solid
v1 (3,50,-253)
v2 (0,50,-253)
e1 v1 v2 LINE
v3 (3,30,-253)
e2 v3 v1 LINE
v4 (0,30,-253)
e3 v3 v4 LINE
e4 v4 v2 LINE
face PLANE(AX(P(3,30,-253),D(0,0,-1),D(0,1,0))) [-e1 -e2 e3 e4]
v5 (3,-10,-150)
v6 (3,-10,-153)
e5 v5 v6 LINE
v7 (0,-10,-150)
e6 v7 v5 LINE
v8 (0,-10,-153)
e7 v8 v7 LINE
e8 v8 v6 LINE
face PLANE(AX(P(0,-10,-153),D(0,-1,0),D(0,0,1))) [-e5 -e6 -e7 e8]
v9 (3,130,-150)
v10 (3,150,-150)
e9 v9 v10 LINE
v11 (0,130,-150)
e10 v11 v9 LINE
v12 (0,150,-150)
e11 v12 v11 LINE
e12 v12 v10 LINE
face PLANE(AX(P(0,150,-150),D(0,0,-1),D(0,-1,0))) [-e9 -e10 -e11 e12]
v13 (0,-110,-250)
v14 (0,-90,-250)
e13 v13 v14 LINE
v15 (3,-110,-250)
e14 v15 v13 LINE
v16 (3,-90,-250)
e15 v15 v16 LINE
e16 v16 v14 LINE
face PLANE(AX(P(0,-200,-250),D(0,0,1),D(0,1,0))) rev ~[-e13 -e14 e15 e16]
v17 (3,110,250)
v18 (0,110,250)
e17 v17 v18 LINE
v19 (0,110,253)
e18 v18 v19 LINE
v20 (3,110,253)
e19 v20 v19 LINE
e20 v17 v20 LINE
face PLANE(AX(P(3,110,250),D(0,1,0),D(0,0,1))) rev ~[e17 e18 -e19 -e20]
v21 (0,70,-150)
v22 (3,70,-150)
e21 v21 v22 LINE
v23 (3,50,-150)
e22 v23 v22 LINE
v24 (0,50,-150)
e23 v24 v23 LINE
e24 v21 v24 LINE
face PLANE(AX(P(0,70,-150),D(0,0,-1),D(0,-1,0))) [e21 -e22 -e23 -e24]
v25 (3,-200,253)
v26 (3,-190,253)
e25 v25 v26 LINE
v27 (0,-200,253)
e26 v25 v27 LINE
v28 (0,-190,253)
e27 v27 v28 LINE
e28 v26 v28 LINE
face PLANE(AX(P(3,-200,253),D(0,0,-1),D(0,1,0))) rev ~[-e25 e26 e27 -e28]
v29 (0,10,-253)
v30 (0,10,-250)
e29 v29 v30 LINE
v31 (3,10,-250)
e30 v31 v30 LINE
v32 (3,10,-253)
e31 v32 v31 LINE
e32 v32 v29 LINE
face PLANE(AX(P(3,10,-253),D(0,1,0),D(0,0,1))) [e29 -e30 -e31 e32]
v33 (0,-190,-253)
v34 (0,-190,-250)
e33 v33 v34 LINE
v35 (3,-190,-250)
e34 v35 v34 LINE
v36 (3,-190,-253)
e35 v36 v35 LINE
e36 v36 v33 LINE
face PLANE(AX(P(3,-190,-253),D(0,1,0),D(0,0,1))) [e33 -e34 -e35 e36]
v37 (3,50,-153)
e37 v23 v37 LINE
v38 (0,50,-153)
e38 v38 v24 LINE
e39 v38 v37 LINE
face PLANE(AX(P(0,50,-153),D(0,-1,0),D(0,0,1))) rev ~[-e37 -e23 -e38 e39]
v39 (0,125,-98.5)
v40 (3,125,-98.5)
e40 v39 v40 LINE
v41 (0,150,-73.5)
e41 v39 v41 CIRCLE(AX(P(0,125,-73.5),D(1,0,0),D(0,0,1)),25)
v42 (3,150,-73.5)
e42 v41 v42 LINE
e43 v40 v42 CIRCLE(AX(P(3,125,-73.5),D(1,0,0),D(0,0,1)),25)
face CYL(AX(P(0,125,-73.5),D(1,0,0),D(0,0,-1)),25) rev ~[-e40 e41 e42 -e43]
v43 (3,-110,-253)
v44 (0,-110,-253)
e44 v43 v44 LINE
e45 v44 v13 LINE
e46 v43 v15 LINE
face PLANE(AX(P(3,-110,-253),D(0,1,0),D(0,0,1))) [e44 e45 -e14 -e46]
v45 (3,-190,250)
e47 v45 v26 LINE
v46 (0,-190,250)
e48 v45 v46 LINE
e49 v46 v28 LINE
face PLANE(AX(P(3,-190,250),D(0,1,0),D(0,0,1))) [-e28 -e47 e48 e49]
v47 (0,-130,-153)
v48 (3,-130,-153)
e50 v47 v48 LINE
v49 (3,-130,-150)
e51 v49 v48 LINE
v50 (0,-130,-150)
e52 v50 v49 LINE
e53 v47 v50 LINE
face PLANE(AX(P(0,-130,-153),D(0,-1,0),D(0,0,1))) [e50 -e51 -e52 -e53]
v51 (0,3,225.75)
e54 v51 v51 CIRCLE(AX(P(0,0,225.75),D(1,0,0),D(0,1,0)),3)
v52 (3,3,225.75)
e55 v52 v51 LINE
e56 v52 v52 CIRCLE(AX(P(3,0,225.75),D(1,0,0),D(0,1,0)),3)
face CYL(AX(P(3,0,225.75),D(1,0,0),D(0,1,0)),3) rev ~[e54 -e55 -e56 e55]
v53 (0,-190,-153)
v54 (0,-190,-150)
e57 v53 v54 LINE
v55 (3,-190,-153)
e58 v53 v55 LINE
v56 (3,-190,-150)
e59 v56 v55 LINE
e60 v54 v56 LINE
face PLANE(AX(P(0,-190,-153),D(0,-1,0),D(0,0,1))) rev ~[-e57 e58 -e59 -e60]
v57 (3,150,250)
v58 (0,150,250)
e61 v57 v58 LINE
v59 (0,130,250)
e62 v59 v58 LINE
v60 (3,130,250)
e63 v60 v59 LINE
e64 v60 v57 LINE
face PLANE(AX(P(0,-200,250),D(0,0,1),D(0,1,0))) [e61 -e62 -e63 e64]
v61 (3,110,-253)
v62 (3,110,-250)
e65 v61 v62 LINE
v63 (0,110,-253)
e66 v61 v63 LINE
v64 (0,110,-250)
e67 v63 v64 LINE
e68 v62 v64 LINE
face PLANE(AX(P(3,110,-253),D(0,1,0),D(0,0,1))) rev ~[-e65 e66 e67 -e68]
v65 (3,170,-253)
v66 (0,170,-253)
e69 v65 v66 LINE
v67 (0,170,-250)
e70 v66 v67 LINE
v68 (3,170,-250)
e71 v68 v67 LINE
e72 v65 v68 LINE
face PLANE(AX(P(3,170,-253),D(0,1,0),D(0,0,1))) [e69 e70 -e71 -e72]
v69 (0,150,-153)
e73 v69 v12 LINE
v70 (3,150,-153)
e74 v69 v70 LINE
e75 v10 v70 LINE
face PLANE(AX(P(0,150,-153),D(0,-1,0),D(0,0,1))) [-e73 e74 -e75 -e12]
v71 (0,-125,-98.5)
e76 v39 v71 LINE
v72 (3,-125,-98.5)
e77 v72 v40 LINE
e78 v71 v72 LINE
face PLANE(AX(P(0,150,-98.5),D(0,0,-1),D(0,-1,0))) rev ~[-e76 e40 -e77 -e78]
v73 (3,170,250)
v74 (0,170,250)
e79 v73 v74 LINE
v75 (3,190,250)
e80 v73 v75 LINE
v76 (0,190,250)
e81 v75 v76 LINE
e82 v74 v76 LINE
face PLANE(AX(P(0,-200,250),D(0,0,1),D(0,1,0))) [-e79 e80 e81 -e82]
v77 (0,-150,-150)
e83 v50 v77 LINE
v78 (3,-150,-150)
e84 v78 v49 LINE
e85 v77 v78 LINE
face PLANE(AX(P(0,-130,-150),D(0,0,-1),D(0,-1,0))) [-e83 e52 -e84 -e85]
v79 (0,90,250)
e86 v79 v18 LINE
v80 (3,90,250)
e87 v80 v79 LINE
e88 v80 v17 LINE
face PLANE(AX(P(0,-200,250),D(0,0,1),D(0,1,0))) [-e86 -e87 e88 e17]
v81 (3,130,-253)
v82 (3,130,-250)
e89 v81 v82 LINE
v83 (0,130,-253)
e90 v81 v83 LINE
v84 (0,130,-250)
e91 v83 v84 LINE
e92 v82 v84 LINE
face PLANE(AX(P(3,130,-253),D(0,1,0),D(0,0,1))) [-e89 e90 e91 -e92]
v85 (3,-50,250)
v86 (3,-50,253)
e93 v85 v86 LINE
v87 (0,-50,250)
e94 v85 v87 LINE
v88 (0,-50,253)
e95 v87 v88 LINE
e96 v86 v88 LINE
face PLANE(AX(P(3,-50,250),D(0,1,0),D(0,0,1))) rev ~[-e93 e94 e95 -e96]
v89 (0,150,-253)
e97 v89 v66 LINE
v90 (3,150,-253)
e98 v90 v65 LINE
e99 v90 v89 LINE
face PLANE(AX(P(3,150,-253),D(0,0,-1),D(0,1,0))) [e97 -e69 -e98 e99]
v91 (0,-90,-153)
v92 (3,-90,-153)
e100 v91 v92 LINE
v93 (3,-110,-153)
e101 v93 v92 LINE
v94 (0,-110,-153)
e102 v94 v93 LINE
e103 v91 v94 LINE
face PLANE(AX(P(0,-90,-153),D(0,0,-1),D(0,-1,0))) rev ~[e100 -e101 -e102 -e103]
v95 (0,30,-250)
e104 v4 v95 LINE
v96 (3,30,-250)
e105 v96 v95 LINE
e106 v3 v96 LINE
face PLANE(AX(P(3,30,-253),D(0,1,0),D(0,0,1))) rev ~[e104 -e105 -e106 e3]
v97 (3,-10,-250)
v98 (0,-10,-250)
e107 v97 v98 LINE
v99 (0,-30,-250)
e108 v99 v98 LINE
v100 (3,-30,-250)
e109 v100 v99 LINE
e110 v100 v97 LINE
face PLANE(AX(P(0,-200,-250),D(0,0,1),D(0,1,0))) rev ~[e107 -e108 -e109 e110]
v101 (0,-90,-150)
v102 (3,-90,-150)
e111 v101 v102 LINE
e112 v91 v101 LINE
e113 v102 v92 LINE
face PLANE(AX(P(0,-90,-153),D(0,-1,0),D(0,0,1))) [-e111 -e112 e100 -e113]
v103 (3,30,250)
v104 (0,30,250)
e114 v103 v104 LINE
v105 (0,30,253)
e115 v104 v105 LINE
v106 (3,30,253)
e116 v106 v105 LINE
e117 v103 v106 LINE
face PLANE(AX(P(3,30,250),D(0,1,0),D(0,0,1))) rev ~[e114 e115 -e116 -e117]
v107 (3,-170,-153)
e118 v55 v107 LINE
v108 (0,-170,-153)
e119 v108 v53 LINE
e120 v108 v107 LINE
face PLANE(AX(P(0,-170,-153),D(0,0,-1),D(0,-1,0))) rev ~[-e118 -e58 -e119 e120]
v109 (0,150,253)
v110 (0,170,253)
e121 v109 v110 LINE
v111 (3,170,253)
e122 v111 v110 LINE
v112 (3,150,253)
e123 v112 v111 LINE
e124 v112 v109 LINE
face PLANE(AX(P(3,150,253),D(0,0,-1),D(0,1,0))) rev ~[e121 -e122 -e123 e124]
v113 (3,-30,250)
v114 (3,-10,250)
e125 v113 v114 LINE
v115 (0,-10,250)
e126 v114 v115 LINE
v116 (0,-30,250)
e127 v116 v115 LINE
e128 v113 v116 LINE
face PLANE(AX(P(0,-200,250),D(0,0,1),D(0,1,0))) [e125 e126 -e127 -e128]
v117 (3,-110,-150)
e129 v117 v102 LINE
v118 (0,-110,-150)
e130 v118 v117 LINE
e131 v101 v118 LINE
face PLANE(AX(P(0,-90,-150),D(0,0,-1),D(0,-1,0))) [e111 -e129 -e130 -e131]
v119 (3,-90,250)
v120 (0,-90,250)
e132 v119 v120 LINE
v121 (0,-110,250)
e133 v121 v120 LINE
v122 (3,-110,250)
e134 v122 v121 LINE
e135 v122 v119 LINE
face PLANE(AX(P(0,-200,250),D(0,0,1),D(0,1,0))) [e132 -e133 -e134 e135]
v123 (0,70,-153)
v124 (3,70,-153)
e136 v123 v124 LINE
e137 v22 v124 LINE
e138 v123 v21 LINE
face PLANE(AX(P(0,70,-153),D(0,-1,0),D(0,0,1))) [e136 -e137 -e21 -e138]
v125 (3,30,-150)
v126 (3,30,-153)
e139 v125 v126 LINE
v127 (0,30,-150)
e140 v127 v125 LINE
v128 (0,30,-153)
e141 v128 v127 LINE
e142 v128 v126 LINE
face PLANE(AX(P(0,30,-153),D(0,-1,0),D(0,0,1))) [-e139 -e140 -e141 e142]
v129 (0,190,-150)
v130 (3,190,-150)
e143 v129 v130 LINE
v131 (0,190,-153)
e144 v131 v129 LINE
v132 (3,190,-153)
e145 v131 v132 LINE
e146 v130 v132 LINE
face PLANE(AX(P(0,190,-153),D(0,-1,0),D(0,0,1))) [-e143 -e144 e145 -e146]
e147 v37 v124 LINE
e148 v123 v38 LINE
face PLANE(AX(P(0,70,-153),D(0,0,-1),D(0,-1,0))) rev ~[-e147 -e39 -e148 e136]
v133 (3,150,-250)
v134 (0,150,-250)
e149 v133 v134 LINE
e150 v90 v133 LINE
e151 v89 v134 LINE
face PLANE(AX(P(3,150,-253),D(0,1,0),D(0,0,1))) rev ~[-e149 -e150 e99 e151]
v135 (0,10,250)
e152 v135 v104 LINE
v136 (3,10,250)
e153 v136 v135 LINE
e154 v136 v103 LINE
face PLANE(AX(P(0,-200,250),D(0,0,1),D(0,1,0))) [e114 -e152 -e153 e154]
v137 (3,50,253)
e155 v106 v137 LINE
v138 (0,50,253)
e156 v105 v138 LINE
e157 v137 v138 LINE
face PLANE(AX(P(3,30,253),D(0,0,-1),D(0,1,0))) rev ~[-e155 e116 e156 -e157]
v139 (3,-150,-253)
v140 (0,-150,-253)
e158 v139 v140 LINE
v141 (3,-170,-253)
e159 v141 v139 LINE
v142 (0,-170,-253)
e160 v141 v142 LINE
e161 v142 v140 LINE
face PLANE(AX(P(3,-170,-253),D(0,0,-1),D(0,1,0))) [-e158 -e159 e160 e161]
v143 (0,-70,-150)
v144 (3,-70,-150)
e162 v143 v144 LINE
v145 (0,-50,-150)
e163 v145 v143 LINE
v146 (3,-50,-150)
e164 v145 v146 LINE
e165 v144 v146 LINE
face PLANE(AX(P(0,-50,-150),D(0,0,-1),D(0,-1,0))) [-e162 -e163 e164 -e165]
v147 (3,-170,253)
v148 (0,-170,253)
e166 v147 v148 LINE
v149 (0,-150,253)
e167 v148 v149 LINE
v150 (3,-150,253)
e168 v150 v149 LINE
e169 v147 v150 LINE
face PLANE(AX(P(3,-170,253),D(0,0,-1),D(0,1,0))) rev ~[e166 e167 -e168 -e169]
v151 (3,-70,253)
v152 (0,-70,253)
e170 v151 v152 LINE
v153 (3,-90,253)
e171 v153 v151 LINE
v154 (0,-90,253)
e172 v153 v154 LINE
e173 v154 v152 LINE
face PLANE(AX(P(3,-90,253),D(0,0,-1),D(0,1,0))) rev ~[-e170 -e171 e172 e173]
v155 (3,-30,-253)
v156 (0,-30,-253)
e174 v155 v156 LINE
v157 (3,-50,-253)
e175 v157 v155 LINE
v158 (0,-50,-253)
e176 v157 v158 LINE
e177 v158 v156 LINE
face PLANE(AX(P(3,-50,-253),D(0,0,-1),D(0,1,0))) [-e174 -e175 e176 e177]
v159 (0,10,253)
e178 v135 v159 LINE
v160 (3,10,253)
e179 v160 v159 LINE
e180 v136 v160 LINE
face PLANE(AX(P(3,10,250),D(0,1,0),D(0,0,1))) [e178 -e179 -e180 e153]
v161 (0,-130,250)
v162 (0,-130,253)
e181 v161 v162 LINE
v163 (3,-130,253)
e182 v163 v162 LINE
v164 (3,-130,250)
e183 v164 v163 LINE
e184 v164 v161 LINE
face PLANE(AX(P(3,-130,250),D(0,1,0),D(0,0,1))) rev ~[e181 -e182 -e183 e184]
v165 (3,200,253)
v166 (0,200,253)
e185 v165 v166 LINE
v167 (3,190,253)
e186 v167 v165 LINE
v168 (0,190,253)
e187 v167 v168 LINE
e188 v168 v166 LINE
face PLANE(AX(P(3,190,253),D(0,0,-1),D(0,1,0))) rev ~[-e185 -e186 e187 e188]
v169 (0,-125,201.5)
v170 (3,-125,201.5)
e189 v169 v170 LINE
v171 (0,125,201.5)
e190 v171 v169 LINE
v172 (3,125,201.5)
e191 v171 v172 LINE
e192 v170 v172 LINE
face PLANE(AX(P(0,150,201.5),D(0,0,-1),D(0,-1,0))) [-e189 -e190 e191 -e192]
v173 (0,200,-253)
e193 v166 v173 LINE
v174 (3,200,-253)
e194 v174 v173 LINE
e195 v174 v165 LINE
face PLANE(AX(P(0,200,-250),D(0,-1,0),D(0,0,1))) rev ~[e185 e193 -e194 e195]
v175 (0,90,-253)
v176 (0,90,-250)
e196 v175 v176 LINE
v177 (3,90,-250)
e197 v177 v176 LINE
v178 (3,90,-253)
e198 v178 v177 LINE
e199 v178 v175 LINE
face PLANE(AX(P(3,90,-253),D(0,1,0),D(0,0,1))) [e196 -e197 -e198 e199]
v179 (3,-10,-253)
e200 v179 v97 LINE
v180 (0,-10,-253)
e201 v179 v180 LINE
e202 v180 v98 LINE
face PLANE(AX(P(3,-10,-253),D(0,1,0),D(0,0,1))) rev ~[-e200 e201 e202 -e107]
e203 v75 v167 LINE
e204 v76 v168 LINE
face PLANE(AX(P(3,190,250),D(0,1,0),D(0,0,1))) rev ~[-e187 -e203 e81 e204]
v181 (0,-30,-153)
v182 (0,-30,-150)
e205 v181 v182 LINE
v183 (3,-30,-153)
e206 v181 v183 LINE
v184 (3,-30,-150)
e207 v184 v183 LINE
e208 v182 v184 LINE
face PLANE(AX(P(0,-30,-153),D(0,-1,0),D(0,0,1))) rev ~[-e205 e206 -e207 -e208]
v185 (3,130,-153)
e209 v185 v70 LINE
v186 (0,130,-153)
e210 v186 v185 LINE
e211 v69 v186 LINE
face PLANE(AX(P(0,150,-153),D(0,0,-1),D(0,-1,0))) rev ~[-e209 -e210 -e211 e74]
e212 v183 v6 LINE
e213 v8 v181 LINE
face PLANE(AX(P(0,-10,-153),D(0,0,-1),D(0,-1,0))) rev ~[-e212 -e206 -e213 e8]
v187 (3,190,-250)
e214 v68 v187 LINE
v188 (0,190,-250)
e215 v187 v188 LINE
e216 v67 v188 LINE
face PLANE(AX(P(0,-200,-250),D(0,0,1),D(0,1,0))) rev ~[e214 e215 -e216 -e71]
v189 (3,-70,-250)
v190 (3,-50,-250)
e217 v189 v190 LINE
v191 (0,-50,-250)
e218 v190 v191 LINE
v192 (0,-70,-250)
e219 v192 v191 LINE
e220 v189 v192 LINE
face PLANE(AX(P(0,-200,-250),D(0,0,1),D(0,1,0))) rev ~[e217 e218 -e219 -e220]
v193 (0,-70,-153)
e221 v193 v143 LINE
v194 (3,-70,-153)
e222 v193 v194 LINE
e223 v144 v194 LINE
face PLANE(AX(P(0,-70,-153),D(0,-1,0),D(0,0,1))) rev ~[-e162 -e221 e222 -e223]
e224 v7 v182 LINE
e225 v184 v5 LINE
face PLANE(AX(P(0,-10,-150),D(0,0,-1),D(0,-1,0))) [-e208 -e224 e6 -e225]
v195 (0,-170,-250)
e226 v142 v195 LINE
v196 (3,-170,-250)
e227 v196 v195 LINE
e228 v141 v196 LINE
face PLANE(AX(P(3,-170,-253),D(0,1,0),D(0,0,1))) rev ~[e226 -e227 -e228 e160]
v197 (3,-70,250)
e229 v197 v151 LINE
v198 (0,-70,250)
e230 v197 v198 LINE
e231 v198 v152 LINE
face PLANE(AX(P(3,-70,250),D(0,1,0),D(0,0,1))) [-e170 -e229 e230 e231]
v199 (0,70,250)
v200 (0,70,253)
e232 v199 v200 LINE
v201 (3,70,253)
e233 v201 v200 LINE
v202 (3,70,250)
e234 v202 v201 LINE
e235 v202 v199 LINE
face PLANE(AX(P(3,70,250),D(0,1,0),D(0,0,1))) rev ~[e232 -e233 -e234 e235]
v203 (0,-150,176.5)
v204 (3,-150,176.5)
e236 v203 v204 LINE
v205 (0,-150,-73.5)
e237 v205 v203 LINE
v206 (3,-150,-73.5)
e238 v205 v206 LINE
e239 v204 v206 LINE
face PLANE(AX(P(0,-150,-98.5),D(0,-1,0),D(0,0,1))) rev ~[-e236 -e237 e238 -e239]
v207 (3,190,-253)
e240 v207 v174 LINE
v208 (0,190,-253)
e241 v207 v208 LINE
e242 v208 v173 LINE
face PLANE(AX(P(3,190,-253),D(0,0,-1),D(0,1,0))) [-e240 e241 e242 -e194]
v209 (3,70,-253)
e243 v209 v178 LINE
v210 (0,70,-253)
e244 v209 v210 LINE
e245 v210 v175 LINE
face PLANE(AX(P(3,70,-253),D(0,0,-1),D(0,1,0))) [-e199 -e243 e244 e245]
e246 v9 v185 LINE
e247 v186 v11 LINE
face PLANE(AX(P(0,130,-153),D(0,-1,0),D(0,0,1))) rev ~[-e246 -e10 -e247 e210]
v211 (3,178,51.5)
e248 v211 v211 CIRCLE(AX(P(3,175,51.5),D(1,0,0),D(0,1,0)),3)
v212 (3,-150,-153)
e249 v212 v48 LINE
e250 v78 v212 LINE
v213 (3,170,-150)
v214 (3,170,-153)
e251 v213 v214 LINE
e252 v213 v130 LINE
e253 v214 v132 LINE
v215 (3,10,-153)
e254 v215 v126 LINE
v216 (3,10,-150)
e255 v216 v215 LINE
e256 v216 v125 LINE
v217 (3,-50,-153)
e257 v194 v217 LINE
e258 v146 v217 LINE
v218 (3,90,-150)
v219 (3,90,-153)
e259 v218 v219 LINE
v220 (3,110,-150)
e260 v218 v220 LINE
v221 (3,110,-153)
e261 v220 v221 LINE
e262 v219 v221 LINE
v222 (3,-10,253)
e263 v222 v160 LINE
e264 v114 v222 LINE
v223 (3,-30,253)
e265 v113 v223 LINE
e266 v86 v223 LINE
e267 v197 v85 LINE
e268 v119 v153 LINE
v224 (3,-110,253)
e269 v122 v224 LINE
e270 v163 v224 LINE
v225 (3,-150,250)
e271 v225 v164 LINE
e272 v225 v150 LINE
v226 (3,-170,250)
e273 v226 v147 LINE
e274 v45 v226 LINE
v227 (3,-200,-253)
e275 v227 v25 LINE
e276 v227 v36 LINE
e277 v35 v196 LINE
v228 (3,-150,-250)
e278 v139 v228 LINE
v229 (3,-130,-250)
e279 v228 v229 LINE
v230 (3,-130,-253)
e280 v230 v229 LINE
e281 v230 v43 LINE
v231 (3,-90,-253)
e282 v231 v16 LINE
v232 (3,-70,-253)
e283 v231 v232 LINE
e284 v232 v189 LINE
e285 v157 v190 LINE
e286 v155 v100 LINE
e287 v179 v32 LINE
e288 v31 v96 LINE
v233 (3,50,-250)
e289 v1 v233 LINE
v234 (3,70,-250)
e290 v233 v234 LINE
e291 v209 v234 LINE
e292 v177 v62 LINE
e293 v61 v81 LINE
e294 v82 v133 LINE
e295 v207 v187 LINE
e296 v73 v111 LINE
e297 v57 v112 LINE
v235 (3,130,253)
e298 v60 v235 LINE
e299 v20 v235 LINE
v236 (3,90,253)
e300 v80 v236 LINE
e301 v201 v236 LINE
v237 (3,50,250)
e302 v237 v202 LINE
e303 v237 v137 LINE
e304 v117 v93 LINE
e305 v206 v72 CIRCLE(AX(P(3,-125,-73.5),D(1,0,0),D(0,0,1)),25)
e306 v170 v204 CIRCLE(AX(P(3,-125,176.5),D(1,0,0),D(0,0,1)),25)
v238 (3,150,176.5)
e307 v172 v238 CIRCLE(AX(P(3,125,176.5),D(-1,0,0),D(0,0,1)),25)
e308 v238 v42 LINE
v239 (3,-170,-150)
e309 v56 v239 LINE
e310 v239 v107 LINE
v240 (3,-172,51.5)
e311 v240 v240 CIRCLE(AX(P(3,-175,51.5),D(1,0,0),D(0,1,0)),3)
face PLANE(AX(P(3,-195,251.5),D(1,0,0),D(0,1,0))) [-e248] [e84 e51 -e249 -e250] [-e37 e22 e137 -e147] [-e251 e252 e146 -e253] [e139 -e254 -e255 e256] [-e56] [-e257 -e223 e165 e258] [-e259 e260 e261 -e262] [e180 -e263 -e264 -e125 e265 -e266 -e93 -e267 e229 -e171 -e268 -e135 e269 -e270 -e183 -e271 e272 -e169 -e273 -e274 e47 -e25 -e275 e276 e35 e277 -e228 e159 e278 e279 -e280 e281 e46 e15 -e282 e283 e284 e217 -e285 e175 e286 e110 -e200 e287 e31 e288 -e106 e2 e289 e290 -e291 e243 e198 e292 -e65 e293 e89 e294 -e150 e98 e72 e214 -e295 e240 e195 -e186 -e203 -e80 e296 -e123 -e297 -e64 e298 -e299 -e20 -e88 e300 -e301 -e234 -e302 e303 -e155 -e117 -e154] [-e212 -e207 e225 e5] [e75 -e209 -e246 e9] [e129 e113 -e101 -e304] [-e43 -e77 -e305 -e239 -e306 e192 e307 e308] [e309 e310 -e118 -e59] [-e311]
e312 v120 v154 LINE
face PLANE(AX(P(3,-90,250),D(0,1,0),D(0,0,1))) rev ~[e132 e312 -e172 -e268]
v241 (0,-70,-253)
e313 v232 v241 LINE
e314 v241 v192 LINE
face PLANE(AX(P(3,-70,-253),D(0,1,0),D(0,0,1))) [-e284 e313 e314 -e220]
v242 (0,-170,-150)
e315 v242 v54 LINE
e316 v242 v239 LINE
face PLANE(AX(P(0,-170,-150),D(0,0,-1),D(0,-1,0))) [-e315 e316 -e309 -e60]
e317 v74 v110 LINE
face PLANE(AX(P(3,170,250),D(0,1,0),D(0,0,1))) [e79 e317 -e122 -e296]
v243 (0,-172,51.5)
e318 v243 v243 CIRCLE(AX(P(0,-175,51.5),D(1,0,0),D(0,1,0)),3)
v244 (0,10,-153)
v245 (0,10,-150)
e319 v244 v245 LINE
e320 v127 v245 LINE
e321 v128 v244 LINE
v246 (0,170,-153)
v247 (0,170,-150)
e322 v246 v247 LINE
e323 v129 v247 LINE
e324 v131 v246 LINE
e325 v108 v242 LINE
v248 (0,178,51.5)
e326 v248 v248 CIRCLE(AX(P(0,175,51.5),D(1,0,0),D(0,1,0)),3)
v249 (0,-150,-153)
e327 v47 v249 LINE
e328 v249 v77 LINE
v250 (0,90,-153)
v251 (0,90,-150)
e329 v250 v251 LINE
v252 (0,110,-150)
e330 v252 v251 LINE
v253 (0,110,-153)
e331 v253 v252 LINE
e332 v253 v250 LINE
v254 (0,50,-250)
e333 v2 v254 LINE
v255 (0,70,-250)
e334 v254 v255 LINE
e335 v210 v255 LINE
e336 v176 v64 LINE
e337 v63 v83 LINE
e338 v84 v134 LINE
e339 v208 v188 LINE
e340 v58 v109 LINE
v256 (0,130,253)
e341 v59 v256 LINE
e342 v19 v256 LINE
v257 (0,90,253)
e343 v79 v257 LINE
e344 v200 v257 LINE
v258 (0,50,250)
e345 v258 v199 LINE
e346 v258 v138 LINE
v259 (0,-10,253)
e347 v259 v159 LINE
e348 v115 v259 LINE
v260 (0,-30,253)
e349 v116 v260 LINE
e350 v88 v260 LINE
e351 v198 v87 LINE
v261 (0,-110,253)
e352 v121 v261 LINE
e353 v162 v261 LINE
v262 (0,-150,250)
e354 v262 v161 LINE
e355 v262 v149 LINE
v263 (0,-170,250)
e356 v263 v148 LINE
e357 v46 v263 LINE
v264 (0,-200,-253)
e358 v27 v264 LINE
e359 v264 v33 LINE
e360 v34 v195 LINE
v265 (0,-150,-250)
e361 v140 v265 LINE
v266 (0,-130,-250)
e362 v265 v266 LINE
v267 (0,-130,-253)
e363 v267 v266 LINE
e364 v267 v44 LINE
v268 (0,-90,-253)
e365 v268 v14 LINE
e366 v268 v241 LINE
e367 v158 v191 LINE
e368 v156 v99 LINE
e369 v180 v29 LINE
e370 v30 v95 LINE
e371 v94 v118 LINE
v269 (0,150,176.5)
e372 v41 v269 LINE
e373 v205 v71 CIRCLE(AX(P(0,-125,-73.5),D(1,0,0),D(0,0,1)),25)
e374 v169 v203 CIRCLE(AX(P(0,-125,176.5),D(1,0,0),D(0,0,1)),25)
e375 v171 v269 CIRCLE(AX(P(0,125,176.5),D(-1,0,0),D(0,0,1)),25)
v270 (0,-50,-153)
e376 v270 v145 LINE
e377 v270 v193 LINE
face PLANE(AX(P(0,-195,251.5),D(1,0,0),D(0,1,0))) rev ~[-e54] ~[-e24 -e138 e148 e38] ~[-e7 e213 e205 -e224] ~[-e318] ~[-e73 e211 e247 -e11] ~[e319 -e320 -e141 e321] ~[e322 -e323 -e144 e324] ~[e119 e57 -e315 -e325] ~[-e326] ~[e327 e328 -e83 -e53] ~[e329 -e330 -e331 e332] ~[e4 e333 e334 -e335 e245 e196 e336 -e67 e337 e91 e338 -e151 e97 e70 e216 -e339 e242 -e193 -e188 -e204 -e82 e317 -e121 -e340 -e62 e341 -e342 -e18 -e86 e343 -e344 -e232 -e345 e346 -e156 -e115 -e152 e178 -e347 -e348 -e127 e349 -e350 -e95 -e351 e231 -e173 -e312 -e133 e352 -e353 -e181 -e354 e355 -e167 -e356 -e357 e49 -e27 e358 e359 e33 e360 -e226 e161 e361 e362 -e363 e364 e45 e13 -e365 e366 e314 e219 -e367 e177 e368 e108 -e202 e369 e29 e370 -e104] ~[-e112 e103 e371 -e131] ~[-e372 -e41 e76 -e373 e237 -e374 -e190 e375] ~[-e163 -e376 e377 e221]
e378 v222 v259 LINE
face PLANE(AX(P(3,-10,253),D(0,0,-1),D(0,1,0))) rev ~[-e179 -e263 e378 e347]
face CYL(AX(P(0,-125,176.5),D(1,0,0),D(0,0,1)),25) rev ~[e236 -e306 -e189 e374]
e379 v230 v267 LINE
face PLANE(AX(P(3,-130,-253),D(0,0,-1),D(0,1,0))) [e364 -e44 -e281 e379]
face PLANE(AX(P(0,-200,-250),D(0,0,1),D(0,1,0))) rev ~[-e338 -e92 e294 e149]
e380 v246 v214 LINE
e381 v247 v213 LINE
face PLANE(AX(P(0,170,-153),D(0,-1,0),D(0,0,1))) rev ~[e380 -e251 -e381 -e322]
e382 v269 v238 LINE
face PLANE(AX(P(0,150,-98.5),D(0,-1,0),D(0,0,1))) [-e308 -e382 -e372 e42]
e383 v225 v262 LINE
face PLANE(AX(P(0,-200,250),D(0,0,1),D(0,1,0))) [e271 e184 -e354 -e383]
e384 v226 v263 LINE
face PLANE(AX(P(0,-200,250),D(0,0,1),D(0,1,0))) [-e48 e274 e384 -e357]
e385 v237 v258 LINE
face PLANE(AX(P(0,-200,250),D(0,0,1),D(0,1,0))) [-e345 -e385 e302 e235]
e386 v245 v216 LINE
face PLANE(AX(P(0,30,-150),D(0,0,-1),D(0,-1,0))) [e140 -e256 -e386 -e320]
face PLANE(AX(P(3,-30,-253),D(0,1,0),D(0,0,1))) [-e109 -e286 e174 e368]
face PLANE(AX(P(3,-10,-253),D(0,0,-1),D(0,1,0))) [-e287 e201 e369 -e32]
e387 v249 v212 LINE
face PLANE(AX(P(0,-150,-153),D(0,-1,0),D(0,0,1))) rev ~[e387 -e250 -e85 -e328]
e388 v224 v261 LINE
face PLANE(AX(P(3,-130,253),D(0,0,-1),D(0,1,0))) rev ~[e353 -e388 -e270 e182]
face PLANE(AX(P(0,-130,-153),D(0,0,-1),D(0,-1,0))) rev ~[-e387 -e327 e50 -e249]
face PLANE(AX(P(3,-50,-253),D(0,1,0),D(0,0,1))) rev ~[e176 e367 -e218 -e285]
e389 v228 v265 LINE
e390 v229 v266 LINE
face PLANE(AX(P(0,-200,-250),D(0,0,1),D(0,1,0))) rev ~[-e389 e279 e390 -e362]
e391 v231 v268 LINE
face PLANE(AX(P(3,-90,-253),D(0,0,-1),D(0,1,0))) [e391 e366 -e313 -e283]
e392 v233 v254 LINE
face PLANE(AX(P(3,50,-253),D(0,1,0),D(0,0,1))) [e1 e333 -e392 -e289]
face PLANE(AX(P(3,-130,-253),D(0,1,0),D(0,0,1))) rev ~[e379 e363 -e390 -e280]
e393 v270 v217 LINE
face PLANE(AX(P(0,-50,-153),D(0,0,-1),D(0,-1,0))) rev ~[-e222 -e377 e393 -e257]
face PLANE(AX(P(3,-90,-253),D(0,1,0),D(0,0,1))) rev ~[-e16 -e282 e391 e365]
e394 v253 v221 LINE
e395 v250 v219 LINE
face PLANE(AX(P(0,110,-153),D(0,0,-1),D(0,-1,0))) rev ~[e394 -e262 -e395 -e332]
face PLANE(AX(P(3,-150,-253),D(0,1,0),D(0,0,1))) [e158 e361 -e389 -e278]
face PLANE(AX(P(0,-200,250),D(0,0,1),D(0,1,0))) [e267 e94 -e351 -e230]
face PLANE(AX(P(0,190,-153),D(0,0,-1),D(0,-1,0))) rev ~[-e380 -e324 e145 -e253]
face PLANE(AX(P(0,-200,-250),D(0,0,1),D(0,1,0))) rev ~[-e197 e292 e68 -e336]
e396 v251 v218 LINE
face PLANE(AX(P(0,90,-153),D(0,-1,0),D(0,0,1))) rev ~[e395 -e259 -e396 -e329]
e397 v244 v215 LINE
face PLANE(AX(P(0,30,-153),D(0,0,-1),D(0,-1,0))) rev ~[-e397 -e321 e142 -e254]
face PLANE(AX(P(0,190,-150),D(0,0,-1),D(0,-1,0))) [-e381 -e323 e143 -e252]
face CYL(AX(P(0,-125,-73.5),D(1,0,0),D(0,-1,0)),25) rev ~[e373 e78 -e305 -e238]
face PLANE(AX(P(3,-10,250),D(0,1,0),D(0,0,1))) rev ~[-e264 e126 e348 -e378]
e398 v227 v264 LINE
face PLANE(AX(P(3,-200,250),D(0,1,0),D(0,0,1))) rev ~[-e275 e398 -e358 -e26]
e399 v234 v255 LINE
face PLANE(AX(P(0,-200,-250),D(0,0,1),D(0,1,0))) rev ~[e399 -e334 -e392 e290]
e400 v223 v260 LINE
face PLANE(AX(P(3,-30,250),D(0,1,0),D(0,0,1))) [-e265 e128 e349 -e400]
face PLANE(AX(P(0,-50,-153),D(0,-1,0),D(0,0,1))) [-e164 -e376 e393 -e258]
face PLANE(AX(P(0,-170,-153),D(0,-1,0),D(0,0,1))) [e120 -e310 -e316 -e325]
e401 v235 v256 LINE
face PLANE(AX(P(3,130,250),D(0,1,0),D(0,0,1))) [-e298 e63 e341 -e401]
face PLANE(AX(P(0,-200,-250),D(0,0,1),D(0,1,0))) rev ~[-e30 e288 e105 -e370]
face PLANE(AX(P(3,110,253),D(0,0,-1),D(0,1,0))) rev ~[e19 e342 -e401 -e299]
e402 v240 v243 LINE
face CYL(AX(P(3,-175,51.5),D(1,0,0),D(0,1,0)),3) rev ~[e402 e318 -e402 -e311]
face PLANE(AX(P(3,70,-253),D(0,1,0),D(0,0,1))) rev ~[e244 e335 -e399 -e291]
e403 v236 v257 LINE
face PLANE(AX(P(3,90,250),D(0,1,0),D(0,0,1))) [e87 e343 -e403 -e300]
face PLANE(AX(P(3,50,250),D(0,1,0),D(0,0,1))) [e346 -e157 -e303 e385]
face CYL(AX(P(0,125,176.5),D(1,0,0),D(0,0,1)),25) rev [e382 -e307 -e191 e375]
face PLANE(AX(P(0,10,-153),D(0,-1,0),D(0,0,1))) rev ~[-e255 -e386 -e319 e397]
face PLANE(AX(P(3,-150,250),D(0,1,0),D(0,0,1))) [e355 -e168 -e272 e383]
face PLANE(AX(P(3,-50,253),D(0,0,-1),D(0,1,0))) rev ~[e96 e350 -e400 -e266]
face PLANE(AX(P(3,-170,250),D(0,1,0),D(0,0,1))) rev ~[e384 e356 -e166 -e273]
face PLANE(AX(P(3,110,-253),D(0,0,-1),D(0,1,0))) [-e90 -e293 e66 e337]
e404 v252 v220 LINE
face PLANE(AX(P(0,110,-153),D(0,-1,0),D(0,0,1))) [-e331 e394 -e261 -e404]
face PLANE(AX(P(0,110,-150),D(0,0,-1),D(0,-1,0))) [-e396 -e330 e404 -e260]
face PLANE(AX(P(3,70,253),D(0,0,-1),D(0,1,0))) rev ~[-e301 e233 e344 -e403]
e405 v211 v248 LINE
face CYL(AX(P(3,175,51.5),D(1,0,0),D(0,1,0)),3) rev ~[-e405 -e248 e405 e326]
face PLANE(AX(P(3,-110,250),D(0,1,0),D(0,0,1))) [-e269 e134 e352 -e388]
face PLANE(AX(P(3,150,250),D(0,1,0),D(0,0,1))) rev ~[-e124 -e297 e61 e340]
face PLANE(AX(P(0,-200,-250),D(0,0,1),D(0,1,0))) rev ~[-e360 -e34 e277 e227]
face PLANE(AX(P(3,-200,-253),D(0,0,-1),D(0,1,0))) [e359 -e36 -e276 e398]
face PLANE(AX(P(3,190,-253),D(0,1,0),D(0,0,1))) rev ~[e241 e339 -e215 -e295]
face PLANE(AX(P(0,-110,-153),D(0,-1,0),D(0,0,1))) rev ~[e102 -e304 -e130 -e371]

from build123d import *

# Parameters (mm, degrees)
F0_W      = 400
F0_H      = 500
F1_DEPTH  = 3
F2_W      = 10
F2_H      = 3
F2_W_2    = 20
F3_DEPTH  = 3
F4_W      = 20
F4_H      = 3
F5_DEPTH  = 3.001
F6_W      = 300
F6_H      = 300
F7_DEPTH  = 25
F8_R      = 25
F9_R      = 3
F10_DEPTH = 25


with BuildPart() as f1:
    # F0 (on Right) → F1 (new body)
    with BuildSketch(Plane.YZ):
        Rectangle(F0_W, F0_H)
    extrude(amount=F1_DEPTH)

    # F2 (on face) → F3 (join, through all)
    with BuildSketch(Plane.YZ.offset(3)):
        with Locations((-195, 251.5)):
            Rectangle(F2_W, F2_H)
        with Locations((-160, 251.5)):
            Rectangle(F2_W_2, F2_H)
        with Locations((-120, 251.5)):
            Rectangle(F2_W_2, F2_H)
        with Locations((-80, 251.5)):
            Rectangle(F2_W_2, F2_H)
        with Locations((-40, 251.5)):
            Rectangle(F2_W_2, F2_H)
        with Locations((0, 251.5)):
            Rectangle(F2_W_2, F2_H)
        with Locations((40, 251.5)):
            Rectangle(F2_W_2, F2_H)
        with Locations((80, 251.5)):
            Rectangle(F2_W_2, F2_H)
        with Locations((120, 251.5)):
            Rectangle(F2_W_2, F2_H)
        with Locations((160, 251.5)):
            Rectangle(F2_W_2, F2_H)
        with Locations((195, 251.5)):
            Rectangle(F2_W, F2_H)
        with Locations((-195, -251.5)):
            Rectangle(F2_W, F2_H)
        with Locations((-160, -251.5)):
            Rectangle(F2_W_2, F2_H)
        with Locations((-120, -251.5)):
            Rectangle(F2_W_2, F2_H)
        with Locations((195, -251.5)):
            Rectangle(F2_W, F2_H)
        with Locations((-80, -251.5)):
            Rectangle(F2_W_2, F2_H)
        with Locations((160, -251.5)):
            Rectangle(F2_W_2, F2_H)
        with Locations((0, -251.5)):
            Rectangle(F2_W_2, F2_H)
        with Locations((120, -251.5)):
            Rectangle(F2_W_2, F2_H)
        with Locations((-40, -251.5)):
            Rectangle(F2_W_2, F2_H)
        with Locations((40, -251.5)):
            Rectangle(F2_W_2, F2_H)
        with Locations((80, -251.5)):
            Rectangle(F2_W_2, F2_H)
    extrude(amount=-F3_DEPTH)

    # F4 (on face) → F5 (cut, through all)
    with BuildSketch(Plane(origin=(0, 0, 0), x_dir=(0, -1, 0), z_dir=(-1, 0, 0))):
        with Locations((-180, -151.5)):
            Rectangle(F4_W, F4_H)
        with Locations((-140, -151.5)):
            Rectangle(F4_W, F4_H)
        with Locations((-100, -151.5)):
            Rectangle(F4_W, F4_H)
        with Locations((-60, -151.5)):
            Rectangle(F4_W, F4_H)
        with Locations((-20, -151.5)):
            Rectangle(F4_W, F4_H)
        with Locations((20, -151.5)):
            Rectangle(F4_W, F4_H)
        with Locations((60, -151.5)):
            Rectangle(F4_W, F4_H)
        with Locations((100, -151.5)):
            Rectangle(F4_W, F4_H)
        with Locations((140, -151.5)):
            Rectangle(F4_W, F4_H)
        with Locations((180, -151.5)):
            Rectangle(F4_W, F4_H)
    extrude(amount=-F5_DEPTH, mode=Mode.SUBTRACT)

    # F6 (on face) → F7 (cut)
    with BuildSketch(Plane(origin=(0, 0, 0), x_dir=(0, -1, 0), z_dir=(-1, 0, 0))):
        with Locations((0, 51.5)):
            Rectangle(F6_W, F6_H)
    extrude(amount=-F7_DEPTH, mode=Mode.SUBTRACT)

    # F8
    f8_edges = [f1.edges().sort_by_distance(p)[0] for p in [
        (1.5, 150, 201.5),
        (1.5, -150, 201.5),
        (1.5, -150, -98.5),
        (1.5, 150, -98.5),
    ]]
    fillet(f8_edges, radius=F8_R)

    # F9 (on face) → F10 (cut)
    with BuildSketch(Plane.YZ.offset(3)):
        with Locations((0, 225.75)):
            Circle(F9_R)
        with Locations((-175, 51.5)):
            Circle(F9_R)
        with Locations((175, 51.5)):
            Circle(F9_R)
    extrude(amount=-F10_DEPTH, mode=Mode.SUBTRACT)


solid = f1.part
